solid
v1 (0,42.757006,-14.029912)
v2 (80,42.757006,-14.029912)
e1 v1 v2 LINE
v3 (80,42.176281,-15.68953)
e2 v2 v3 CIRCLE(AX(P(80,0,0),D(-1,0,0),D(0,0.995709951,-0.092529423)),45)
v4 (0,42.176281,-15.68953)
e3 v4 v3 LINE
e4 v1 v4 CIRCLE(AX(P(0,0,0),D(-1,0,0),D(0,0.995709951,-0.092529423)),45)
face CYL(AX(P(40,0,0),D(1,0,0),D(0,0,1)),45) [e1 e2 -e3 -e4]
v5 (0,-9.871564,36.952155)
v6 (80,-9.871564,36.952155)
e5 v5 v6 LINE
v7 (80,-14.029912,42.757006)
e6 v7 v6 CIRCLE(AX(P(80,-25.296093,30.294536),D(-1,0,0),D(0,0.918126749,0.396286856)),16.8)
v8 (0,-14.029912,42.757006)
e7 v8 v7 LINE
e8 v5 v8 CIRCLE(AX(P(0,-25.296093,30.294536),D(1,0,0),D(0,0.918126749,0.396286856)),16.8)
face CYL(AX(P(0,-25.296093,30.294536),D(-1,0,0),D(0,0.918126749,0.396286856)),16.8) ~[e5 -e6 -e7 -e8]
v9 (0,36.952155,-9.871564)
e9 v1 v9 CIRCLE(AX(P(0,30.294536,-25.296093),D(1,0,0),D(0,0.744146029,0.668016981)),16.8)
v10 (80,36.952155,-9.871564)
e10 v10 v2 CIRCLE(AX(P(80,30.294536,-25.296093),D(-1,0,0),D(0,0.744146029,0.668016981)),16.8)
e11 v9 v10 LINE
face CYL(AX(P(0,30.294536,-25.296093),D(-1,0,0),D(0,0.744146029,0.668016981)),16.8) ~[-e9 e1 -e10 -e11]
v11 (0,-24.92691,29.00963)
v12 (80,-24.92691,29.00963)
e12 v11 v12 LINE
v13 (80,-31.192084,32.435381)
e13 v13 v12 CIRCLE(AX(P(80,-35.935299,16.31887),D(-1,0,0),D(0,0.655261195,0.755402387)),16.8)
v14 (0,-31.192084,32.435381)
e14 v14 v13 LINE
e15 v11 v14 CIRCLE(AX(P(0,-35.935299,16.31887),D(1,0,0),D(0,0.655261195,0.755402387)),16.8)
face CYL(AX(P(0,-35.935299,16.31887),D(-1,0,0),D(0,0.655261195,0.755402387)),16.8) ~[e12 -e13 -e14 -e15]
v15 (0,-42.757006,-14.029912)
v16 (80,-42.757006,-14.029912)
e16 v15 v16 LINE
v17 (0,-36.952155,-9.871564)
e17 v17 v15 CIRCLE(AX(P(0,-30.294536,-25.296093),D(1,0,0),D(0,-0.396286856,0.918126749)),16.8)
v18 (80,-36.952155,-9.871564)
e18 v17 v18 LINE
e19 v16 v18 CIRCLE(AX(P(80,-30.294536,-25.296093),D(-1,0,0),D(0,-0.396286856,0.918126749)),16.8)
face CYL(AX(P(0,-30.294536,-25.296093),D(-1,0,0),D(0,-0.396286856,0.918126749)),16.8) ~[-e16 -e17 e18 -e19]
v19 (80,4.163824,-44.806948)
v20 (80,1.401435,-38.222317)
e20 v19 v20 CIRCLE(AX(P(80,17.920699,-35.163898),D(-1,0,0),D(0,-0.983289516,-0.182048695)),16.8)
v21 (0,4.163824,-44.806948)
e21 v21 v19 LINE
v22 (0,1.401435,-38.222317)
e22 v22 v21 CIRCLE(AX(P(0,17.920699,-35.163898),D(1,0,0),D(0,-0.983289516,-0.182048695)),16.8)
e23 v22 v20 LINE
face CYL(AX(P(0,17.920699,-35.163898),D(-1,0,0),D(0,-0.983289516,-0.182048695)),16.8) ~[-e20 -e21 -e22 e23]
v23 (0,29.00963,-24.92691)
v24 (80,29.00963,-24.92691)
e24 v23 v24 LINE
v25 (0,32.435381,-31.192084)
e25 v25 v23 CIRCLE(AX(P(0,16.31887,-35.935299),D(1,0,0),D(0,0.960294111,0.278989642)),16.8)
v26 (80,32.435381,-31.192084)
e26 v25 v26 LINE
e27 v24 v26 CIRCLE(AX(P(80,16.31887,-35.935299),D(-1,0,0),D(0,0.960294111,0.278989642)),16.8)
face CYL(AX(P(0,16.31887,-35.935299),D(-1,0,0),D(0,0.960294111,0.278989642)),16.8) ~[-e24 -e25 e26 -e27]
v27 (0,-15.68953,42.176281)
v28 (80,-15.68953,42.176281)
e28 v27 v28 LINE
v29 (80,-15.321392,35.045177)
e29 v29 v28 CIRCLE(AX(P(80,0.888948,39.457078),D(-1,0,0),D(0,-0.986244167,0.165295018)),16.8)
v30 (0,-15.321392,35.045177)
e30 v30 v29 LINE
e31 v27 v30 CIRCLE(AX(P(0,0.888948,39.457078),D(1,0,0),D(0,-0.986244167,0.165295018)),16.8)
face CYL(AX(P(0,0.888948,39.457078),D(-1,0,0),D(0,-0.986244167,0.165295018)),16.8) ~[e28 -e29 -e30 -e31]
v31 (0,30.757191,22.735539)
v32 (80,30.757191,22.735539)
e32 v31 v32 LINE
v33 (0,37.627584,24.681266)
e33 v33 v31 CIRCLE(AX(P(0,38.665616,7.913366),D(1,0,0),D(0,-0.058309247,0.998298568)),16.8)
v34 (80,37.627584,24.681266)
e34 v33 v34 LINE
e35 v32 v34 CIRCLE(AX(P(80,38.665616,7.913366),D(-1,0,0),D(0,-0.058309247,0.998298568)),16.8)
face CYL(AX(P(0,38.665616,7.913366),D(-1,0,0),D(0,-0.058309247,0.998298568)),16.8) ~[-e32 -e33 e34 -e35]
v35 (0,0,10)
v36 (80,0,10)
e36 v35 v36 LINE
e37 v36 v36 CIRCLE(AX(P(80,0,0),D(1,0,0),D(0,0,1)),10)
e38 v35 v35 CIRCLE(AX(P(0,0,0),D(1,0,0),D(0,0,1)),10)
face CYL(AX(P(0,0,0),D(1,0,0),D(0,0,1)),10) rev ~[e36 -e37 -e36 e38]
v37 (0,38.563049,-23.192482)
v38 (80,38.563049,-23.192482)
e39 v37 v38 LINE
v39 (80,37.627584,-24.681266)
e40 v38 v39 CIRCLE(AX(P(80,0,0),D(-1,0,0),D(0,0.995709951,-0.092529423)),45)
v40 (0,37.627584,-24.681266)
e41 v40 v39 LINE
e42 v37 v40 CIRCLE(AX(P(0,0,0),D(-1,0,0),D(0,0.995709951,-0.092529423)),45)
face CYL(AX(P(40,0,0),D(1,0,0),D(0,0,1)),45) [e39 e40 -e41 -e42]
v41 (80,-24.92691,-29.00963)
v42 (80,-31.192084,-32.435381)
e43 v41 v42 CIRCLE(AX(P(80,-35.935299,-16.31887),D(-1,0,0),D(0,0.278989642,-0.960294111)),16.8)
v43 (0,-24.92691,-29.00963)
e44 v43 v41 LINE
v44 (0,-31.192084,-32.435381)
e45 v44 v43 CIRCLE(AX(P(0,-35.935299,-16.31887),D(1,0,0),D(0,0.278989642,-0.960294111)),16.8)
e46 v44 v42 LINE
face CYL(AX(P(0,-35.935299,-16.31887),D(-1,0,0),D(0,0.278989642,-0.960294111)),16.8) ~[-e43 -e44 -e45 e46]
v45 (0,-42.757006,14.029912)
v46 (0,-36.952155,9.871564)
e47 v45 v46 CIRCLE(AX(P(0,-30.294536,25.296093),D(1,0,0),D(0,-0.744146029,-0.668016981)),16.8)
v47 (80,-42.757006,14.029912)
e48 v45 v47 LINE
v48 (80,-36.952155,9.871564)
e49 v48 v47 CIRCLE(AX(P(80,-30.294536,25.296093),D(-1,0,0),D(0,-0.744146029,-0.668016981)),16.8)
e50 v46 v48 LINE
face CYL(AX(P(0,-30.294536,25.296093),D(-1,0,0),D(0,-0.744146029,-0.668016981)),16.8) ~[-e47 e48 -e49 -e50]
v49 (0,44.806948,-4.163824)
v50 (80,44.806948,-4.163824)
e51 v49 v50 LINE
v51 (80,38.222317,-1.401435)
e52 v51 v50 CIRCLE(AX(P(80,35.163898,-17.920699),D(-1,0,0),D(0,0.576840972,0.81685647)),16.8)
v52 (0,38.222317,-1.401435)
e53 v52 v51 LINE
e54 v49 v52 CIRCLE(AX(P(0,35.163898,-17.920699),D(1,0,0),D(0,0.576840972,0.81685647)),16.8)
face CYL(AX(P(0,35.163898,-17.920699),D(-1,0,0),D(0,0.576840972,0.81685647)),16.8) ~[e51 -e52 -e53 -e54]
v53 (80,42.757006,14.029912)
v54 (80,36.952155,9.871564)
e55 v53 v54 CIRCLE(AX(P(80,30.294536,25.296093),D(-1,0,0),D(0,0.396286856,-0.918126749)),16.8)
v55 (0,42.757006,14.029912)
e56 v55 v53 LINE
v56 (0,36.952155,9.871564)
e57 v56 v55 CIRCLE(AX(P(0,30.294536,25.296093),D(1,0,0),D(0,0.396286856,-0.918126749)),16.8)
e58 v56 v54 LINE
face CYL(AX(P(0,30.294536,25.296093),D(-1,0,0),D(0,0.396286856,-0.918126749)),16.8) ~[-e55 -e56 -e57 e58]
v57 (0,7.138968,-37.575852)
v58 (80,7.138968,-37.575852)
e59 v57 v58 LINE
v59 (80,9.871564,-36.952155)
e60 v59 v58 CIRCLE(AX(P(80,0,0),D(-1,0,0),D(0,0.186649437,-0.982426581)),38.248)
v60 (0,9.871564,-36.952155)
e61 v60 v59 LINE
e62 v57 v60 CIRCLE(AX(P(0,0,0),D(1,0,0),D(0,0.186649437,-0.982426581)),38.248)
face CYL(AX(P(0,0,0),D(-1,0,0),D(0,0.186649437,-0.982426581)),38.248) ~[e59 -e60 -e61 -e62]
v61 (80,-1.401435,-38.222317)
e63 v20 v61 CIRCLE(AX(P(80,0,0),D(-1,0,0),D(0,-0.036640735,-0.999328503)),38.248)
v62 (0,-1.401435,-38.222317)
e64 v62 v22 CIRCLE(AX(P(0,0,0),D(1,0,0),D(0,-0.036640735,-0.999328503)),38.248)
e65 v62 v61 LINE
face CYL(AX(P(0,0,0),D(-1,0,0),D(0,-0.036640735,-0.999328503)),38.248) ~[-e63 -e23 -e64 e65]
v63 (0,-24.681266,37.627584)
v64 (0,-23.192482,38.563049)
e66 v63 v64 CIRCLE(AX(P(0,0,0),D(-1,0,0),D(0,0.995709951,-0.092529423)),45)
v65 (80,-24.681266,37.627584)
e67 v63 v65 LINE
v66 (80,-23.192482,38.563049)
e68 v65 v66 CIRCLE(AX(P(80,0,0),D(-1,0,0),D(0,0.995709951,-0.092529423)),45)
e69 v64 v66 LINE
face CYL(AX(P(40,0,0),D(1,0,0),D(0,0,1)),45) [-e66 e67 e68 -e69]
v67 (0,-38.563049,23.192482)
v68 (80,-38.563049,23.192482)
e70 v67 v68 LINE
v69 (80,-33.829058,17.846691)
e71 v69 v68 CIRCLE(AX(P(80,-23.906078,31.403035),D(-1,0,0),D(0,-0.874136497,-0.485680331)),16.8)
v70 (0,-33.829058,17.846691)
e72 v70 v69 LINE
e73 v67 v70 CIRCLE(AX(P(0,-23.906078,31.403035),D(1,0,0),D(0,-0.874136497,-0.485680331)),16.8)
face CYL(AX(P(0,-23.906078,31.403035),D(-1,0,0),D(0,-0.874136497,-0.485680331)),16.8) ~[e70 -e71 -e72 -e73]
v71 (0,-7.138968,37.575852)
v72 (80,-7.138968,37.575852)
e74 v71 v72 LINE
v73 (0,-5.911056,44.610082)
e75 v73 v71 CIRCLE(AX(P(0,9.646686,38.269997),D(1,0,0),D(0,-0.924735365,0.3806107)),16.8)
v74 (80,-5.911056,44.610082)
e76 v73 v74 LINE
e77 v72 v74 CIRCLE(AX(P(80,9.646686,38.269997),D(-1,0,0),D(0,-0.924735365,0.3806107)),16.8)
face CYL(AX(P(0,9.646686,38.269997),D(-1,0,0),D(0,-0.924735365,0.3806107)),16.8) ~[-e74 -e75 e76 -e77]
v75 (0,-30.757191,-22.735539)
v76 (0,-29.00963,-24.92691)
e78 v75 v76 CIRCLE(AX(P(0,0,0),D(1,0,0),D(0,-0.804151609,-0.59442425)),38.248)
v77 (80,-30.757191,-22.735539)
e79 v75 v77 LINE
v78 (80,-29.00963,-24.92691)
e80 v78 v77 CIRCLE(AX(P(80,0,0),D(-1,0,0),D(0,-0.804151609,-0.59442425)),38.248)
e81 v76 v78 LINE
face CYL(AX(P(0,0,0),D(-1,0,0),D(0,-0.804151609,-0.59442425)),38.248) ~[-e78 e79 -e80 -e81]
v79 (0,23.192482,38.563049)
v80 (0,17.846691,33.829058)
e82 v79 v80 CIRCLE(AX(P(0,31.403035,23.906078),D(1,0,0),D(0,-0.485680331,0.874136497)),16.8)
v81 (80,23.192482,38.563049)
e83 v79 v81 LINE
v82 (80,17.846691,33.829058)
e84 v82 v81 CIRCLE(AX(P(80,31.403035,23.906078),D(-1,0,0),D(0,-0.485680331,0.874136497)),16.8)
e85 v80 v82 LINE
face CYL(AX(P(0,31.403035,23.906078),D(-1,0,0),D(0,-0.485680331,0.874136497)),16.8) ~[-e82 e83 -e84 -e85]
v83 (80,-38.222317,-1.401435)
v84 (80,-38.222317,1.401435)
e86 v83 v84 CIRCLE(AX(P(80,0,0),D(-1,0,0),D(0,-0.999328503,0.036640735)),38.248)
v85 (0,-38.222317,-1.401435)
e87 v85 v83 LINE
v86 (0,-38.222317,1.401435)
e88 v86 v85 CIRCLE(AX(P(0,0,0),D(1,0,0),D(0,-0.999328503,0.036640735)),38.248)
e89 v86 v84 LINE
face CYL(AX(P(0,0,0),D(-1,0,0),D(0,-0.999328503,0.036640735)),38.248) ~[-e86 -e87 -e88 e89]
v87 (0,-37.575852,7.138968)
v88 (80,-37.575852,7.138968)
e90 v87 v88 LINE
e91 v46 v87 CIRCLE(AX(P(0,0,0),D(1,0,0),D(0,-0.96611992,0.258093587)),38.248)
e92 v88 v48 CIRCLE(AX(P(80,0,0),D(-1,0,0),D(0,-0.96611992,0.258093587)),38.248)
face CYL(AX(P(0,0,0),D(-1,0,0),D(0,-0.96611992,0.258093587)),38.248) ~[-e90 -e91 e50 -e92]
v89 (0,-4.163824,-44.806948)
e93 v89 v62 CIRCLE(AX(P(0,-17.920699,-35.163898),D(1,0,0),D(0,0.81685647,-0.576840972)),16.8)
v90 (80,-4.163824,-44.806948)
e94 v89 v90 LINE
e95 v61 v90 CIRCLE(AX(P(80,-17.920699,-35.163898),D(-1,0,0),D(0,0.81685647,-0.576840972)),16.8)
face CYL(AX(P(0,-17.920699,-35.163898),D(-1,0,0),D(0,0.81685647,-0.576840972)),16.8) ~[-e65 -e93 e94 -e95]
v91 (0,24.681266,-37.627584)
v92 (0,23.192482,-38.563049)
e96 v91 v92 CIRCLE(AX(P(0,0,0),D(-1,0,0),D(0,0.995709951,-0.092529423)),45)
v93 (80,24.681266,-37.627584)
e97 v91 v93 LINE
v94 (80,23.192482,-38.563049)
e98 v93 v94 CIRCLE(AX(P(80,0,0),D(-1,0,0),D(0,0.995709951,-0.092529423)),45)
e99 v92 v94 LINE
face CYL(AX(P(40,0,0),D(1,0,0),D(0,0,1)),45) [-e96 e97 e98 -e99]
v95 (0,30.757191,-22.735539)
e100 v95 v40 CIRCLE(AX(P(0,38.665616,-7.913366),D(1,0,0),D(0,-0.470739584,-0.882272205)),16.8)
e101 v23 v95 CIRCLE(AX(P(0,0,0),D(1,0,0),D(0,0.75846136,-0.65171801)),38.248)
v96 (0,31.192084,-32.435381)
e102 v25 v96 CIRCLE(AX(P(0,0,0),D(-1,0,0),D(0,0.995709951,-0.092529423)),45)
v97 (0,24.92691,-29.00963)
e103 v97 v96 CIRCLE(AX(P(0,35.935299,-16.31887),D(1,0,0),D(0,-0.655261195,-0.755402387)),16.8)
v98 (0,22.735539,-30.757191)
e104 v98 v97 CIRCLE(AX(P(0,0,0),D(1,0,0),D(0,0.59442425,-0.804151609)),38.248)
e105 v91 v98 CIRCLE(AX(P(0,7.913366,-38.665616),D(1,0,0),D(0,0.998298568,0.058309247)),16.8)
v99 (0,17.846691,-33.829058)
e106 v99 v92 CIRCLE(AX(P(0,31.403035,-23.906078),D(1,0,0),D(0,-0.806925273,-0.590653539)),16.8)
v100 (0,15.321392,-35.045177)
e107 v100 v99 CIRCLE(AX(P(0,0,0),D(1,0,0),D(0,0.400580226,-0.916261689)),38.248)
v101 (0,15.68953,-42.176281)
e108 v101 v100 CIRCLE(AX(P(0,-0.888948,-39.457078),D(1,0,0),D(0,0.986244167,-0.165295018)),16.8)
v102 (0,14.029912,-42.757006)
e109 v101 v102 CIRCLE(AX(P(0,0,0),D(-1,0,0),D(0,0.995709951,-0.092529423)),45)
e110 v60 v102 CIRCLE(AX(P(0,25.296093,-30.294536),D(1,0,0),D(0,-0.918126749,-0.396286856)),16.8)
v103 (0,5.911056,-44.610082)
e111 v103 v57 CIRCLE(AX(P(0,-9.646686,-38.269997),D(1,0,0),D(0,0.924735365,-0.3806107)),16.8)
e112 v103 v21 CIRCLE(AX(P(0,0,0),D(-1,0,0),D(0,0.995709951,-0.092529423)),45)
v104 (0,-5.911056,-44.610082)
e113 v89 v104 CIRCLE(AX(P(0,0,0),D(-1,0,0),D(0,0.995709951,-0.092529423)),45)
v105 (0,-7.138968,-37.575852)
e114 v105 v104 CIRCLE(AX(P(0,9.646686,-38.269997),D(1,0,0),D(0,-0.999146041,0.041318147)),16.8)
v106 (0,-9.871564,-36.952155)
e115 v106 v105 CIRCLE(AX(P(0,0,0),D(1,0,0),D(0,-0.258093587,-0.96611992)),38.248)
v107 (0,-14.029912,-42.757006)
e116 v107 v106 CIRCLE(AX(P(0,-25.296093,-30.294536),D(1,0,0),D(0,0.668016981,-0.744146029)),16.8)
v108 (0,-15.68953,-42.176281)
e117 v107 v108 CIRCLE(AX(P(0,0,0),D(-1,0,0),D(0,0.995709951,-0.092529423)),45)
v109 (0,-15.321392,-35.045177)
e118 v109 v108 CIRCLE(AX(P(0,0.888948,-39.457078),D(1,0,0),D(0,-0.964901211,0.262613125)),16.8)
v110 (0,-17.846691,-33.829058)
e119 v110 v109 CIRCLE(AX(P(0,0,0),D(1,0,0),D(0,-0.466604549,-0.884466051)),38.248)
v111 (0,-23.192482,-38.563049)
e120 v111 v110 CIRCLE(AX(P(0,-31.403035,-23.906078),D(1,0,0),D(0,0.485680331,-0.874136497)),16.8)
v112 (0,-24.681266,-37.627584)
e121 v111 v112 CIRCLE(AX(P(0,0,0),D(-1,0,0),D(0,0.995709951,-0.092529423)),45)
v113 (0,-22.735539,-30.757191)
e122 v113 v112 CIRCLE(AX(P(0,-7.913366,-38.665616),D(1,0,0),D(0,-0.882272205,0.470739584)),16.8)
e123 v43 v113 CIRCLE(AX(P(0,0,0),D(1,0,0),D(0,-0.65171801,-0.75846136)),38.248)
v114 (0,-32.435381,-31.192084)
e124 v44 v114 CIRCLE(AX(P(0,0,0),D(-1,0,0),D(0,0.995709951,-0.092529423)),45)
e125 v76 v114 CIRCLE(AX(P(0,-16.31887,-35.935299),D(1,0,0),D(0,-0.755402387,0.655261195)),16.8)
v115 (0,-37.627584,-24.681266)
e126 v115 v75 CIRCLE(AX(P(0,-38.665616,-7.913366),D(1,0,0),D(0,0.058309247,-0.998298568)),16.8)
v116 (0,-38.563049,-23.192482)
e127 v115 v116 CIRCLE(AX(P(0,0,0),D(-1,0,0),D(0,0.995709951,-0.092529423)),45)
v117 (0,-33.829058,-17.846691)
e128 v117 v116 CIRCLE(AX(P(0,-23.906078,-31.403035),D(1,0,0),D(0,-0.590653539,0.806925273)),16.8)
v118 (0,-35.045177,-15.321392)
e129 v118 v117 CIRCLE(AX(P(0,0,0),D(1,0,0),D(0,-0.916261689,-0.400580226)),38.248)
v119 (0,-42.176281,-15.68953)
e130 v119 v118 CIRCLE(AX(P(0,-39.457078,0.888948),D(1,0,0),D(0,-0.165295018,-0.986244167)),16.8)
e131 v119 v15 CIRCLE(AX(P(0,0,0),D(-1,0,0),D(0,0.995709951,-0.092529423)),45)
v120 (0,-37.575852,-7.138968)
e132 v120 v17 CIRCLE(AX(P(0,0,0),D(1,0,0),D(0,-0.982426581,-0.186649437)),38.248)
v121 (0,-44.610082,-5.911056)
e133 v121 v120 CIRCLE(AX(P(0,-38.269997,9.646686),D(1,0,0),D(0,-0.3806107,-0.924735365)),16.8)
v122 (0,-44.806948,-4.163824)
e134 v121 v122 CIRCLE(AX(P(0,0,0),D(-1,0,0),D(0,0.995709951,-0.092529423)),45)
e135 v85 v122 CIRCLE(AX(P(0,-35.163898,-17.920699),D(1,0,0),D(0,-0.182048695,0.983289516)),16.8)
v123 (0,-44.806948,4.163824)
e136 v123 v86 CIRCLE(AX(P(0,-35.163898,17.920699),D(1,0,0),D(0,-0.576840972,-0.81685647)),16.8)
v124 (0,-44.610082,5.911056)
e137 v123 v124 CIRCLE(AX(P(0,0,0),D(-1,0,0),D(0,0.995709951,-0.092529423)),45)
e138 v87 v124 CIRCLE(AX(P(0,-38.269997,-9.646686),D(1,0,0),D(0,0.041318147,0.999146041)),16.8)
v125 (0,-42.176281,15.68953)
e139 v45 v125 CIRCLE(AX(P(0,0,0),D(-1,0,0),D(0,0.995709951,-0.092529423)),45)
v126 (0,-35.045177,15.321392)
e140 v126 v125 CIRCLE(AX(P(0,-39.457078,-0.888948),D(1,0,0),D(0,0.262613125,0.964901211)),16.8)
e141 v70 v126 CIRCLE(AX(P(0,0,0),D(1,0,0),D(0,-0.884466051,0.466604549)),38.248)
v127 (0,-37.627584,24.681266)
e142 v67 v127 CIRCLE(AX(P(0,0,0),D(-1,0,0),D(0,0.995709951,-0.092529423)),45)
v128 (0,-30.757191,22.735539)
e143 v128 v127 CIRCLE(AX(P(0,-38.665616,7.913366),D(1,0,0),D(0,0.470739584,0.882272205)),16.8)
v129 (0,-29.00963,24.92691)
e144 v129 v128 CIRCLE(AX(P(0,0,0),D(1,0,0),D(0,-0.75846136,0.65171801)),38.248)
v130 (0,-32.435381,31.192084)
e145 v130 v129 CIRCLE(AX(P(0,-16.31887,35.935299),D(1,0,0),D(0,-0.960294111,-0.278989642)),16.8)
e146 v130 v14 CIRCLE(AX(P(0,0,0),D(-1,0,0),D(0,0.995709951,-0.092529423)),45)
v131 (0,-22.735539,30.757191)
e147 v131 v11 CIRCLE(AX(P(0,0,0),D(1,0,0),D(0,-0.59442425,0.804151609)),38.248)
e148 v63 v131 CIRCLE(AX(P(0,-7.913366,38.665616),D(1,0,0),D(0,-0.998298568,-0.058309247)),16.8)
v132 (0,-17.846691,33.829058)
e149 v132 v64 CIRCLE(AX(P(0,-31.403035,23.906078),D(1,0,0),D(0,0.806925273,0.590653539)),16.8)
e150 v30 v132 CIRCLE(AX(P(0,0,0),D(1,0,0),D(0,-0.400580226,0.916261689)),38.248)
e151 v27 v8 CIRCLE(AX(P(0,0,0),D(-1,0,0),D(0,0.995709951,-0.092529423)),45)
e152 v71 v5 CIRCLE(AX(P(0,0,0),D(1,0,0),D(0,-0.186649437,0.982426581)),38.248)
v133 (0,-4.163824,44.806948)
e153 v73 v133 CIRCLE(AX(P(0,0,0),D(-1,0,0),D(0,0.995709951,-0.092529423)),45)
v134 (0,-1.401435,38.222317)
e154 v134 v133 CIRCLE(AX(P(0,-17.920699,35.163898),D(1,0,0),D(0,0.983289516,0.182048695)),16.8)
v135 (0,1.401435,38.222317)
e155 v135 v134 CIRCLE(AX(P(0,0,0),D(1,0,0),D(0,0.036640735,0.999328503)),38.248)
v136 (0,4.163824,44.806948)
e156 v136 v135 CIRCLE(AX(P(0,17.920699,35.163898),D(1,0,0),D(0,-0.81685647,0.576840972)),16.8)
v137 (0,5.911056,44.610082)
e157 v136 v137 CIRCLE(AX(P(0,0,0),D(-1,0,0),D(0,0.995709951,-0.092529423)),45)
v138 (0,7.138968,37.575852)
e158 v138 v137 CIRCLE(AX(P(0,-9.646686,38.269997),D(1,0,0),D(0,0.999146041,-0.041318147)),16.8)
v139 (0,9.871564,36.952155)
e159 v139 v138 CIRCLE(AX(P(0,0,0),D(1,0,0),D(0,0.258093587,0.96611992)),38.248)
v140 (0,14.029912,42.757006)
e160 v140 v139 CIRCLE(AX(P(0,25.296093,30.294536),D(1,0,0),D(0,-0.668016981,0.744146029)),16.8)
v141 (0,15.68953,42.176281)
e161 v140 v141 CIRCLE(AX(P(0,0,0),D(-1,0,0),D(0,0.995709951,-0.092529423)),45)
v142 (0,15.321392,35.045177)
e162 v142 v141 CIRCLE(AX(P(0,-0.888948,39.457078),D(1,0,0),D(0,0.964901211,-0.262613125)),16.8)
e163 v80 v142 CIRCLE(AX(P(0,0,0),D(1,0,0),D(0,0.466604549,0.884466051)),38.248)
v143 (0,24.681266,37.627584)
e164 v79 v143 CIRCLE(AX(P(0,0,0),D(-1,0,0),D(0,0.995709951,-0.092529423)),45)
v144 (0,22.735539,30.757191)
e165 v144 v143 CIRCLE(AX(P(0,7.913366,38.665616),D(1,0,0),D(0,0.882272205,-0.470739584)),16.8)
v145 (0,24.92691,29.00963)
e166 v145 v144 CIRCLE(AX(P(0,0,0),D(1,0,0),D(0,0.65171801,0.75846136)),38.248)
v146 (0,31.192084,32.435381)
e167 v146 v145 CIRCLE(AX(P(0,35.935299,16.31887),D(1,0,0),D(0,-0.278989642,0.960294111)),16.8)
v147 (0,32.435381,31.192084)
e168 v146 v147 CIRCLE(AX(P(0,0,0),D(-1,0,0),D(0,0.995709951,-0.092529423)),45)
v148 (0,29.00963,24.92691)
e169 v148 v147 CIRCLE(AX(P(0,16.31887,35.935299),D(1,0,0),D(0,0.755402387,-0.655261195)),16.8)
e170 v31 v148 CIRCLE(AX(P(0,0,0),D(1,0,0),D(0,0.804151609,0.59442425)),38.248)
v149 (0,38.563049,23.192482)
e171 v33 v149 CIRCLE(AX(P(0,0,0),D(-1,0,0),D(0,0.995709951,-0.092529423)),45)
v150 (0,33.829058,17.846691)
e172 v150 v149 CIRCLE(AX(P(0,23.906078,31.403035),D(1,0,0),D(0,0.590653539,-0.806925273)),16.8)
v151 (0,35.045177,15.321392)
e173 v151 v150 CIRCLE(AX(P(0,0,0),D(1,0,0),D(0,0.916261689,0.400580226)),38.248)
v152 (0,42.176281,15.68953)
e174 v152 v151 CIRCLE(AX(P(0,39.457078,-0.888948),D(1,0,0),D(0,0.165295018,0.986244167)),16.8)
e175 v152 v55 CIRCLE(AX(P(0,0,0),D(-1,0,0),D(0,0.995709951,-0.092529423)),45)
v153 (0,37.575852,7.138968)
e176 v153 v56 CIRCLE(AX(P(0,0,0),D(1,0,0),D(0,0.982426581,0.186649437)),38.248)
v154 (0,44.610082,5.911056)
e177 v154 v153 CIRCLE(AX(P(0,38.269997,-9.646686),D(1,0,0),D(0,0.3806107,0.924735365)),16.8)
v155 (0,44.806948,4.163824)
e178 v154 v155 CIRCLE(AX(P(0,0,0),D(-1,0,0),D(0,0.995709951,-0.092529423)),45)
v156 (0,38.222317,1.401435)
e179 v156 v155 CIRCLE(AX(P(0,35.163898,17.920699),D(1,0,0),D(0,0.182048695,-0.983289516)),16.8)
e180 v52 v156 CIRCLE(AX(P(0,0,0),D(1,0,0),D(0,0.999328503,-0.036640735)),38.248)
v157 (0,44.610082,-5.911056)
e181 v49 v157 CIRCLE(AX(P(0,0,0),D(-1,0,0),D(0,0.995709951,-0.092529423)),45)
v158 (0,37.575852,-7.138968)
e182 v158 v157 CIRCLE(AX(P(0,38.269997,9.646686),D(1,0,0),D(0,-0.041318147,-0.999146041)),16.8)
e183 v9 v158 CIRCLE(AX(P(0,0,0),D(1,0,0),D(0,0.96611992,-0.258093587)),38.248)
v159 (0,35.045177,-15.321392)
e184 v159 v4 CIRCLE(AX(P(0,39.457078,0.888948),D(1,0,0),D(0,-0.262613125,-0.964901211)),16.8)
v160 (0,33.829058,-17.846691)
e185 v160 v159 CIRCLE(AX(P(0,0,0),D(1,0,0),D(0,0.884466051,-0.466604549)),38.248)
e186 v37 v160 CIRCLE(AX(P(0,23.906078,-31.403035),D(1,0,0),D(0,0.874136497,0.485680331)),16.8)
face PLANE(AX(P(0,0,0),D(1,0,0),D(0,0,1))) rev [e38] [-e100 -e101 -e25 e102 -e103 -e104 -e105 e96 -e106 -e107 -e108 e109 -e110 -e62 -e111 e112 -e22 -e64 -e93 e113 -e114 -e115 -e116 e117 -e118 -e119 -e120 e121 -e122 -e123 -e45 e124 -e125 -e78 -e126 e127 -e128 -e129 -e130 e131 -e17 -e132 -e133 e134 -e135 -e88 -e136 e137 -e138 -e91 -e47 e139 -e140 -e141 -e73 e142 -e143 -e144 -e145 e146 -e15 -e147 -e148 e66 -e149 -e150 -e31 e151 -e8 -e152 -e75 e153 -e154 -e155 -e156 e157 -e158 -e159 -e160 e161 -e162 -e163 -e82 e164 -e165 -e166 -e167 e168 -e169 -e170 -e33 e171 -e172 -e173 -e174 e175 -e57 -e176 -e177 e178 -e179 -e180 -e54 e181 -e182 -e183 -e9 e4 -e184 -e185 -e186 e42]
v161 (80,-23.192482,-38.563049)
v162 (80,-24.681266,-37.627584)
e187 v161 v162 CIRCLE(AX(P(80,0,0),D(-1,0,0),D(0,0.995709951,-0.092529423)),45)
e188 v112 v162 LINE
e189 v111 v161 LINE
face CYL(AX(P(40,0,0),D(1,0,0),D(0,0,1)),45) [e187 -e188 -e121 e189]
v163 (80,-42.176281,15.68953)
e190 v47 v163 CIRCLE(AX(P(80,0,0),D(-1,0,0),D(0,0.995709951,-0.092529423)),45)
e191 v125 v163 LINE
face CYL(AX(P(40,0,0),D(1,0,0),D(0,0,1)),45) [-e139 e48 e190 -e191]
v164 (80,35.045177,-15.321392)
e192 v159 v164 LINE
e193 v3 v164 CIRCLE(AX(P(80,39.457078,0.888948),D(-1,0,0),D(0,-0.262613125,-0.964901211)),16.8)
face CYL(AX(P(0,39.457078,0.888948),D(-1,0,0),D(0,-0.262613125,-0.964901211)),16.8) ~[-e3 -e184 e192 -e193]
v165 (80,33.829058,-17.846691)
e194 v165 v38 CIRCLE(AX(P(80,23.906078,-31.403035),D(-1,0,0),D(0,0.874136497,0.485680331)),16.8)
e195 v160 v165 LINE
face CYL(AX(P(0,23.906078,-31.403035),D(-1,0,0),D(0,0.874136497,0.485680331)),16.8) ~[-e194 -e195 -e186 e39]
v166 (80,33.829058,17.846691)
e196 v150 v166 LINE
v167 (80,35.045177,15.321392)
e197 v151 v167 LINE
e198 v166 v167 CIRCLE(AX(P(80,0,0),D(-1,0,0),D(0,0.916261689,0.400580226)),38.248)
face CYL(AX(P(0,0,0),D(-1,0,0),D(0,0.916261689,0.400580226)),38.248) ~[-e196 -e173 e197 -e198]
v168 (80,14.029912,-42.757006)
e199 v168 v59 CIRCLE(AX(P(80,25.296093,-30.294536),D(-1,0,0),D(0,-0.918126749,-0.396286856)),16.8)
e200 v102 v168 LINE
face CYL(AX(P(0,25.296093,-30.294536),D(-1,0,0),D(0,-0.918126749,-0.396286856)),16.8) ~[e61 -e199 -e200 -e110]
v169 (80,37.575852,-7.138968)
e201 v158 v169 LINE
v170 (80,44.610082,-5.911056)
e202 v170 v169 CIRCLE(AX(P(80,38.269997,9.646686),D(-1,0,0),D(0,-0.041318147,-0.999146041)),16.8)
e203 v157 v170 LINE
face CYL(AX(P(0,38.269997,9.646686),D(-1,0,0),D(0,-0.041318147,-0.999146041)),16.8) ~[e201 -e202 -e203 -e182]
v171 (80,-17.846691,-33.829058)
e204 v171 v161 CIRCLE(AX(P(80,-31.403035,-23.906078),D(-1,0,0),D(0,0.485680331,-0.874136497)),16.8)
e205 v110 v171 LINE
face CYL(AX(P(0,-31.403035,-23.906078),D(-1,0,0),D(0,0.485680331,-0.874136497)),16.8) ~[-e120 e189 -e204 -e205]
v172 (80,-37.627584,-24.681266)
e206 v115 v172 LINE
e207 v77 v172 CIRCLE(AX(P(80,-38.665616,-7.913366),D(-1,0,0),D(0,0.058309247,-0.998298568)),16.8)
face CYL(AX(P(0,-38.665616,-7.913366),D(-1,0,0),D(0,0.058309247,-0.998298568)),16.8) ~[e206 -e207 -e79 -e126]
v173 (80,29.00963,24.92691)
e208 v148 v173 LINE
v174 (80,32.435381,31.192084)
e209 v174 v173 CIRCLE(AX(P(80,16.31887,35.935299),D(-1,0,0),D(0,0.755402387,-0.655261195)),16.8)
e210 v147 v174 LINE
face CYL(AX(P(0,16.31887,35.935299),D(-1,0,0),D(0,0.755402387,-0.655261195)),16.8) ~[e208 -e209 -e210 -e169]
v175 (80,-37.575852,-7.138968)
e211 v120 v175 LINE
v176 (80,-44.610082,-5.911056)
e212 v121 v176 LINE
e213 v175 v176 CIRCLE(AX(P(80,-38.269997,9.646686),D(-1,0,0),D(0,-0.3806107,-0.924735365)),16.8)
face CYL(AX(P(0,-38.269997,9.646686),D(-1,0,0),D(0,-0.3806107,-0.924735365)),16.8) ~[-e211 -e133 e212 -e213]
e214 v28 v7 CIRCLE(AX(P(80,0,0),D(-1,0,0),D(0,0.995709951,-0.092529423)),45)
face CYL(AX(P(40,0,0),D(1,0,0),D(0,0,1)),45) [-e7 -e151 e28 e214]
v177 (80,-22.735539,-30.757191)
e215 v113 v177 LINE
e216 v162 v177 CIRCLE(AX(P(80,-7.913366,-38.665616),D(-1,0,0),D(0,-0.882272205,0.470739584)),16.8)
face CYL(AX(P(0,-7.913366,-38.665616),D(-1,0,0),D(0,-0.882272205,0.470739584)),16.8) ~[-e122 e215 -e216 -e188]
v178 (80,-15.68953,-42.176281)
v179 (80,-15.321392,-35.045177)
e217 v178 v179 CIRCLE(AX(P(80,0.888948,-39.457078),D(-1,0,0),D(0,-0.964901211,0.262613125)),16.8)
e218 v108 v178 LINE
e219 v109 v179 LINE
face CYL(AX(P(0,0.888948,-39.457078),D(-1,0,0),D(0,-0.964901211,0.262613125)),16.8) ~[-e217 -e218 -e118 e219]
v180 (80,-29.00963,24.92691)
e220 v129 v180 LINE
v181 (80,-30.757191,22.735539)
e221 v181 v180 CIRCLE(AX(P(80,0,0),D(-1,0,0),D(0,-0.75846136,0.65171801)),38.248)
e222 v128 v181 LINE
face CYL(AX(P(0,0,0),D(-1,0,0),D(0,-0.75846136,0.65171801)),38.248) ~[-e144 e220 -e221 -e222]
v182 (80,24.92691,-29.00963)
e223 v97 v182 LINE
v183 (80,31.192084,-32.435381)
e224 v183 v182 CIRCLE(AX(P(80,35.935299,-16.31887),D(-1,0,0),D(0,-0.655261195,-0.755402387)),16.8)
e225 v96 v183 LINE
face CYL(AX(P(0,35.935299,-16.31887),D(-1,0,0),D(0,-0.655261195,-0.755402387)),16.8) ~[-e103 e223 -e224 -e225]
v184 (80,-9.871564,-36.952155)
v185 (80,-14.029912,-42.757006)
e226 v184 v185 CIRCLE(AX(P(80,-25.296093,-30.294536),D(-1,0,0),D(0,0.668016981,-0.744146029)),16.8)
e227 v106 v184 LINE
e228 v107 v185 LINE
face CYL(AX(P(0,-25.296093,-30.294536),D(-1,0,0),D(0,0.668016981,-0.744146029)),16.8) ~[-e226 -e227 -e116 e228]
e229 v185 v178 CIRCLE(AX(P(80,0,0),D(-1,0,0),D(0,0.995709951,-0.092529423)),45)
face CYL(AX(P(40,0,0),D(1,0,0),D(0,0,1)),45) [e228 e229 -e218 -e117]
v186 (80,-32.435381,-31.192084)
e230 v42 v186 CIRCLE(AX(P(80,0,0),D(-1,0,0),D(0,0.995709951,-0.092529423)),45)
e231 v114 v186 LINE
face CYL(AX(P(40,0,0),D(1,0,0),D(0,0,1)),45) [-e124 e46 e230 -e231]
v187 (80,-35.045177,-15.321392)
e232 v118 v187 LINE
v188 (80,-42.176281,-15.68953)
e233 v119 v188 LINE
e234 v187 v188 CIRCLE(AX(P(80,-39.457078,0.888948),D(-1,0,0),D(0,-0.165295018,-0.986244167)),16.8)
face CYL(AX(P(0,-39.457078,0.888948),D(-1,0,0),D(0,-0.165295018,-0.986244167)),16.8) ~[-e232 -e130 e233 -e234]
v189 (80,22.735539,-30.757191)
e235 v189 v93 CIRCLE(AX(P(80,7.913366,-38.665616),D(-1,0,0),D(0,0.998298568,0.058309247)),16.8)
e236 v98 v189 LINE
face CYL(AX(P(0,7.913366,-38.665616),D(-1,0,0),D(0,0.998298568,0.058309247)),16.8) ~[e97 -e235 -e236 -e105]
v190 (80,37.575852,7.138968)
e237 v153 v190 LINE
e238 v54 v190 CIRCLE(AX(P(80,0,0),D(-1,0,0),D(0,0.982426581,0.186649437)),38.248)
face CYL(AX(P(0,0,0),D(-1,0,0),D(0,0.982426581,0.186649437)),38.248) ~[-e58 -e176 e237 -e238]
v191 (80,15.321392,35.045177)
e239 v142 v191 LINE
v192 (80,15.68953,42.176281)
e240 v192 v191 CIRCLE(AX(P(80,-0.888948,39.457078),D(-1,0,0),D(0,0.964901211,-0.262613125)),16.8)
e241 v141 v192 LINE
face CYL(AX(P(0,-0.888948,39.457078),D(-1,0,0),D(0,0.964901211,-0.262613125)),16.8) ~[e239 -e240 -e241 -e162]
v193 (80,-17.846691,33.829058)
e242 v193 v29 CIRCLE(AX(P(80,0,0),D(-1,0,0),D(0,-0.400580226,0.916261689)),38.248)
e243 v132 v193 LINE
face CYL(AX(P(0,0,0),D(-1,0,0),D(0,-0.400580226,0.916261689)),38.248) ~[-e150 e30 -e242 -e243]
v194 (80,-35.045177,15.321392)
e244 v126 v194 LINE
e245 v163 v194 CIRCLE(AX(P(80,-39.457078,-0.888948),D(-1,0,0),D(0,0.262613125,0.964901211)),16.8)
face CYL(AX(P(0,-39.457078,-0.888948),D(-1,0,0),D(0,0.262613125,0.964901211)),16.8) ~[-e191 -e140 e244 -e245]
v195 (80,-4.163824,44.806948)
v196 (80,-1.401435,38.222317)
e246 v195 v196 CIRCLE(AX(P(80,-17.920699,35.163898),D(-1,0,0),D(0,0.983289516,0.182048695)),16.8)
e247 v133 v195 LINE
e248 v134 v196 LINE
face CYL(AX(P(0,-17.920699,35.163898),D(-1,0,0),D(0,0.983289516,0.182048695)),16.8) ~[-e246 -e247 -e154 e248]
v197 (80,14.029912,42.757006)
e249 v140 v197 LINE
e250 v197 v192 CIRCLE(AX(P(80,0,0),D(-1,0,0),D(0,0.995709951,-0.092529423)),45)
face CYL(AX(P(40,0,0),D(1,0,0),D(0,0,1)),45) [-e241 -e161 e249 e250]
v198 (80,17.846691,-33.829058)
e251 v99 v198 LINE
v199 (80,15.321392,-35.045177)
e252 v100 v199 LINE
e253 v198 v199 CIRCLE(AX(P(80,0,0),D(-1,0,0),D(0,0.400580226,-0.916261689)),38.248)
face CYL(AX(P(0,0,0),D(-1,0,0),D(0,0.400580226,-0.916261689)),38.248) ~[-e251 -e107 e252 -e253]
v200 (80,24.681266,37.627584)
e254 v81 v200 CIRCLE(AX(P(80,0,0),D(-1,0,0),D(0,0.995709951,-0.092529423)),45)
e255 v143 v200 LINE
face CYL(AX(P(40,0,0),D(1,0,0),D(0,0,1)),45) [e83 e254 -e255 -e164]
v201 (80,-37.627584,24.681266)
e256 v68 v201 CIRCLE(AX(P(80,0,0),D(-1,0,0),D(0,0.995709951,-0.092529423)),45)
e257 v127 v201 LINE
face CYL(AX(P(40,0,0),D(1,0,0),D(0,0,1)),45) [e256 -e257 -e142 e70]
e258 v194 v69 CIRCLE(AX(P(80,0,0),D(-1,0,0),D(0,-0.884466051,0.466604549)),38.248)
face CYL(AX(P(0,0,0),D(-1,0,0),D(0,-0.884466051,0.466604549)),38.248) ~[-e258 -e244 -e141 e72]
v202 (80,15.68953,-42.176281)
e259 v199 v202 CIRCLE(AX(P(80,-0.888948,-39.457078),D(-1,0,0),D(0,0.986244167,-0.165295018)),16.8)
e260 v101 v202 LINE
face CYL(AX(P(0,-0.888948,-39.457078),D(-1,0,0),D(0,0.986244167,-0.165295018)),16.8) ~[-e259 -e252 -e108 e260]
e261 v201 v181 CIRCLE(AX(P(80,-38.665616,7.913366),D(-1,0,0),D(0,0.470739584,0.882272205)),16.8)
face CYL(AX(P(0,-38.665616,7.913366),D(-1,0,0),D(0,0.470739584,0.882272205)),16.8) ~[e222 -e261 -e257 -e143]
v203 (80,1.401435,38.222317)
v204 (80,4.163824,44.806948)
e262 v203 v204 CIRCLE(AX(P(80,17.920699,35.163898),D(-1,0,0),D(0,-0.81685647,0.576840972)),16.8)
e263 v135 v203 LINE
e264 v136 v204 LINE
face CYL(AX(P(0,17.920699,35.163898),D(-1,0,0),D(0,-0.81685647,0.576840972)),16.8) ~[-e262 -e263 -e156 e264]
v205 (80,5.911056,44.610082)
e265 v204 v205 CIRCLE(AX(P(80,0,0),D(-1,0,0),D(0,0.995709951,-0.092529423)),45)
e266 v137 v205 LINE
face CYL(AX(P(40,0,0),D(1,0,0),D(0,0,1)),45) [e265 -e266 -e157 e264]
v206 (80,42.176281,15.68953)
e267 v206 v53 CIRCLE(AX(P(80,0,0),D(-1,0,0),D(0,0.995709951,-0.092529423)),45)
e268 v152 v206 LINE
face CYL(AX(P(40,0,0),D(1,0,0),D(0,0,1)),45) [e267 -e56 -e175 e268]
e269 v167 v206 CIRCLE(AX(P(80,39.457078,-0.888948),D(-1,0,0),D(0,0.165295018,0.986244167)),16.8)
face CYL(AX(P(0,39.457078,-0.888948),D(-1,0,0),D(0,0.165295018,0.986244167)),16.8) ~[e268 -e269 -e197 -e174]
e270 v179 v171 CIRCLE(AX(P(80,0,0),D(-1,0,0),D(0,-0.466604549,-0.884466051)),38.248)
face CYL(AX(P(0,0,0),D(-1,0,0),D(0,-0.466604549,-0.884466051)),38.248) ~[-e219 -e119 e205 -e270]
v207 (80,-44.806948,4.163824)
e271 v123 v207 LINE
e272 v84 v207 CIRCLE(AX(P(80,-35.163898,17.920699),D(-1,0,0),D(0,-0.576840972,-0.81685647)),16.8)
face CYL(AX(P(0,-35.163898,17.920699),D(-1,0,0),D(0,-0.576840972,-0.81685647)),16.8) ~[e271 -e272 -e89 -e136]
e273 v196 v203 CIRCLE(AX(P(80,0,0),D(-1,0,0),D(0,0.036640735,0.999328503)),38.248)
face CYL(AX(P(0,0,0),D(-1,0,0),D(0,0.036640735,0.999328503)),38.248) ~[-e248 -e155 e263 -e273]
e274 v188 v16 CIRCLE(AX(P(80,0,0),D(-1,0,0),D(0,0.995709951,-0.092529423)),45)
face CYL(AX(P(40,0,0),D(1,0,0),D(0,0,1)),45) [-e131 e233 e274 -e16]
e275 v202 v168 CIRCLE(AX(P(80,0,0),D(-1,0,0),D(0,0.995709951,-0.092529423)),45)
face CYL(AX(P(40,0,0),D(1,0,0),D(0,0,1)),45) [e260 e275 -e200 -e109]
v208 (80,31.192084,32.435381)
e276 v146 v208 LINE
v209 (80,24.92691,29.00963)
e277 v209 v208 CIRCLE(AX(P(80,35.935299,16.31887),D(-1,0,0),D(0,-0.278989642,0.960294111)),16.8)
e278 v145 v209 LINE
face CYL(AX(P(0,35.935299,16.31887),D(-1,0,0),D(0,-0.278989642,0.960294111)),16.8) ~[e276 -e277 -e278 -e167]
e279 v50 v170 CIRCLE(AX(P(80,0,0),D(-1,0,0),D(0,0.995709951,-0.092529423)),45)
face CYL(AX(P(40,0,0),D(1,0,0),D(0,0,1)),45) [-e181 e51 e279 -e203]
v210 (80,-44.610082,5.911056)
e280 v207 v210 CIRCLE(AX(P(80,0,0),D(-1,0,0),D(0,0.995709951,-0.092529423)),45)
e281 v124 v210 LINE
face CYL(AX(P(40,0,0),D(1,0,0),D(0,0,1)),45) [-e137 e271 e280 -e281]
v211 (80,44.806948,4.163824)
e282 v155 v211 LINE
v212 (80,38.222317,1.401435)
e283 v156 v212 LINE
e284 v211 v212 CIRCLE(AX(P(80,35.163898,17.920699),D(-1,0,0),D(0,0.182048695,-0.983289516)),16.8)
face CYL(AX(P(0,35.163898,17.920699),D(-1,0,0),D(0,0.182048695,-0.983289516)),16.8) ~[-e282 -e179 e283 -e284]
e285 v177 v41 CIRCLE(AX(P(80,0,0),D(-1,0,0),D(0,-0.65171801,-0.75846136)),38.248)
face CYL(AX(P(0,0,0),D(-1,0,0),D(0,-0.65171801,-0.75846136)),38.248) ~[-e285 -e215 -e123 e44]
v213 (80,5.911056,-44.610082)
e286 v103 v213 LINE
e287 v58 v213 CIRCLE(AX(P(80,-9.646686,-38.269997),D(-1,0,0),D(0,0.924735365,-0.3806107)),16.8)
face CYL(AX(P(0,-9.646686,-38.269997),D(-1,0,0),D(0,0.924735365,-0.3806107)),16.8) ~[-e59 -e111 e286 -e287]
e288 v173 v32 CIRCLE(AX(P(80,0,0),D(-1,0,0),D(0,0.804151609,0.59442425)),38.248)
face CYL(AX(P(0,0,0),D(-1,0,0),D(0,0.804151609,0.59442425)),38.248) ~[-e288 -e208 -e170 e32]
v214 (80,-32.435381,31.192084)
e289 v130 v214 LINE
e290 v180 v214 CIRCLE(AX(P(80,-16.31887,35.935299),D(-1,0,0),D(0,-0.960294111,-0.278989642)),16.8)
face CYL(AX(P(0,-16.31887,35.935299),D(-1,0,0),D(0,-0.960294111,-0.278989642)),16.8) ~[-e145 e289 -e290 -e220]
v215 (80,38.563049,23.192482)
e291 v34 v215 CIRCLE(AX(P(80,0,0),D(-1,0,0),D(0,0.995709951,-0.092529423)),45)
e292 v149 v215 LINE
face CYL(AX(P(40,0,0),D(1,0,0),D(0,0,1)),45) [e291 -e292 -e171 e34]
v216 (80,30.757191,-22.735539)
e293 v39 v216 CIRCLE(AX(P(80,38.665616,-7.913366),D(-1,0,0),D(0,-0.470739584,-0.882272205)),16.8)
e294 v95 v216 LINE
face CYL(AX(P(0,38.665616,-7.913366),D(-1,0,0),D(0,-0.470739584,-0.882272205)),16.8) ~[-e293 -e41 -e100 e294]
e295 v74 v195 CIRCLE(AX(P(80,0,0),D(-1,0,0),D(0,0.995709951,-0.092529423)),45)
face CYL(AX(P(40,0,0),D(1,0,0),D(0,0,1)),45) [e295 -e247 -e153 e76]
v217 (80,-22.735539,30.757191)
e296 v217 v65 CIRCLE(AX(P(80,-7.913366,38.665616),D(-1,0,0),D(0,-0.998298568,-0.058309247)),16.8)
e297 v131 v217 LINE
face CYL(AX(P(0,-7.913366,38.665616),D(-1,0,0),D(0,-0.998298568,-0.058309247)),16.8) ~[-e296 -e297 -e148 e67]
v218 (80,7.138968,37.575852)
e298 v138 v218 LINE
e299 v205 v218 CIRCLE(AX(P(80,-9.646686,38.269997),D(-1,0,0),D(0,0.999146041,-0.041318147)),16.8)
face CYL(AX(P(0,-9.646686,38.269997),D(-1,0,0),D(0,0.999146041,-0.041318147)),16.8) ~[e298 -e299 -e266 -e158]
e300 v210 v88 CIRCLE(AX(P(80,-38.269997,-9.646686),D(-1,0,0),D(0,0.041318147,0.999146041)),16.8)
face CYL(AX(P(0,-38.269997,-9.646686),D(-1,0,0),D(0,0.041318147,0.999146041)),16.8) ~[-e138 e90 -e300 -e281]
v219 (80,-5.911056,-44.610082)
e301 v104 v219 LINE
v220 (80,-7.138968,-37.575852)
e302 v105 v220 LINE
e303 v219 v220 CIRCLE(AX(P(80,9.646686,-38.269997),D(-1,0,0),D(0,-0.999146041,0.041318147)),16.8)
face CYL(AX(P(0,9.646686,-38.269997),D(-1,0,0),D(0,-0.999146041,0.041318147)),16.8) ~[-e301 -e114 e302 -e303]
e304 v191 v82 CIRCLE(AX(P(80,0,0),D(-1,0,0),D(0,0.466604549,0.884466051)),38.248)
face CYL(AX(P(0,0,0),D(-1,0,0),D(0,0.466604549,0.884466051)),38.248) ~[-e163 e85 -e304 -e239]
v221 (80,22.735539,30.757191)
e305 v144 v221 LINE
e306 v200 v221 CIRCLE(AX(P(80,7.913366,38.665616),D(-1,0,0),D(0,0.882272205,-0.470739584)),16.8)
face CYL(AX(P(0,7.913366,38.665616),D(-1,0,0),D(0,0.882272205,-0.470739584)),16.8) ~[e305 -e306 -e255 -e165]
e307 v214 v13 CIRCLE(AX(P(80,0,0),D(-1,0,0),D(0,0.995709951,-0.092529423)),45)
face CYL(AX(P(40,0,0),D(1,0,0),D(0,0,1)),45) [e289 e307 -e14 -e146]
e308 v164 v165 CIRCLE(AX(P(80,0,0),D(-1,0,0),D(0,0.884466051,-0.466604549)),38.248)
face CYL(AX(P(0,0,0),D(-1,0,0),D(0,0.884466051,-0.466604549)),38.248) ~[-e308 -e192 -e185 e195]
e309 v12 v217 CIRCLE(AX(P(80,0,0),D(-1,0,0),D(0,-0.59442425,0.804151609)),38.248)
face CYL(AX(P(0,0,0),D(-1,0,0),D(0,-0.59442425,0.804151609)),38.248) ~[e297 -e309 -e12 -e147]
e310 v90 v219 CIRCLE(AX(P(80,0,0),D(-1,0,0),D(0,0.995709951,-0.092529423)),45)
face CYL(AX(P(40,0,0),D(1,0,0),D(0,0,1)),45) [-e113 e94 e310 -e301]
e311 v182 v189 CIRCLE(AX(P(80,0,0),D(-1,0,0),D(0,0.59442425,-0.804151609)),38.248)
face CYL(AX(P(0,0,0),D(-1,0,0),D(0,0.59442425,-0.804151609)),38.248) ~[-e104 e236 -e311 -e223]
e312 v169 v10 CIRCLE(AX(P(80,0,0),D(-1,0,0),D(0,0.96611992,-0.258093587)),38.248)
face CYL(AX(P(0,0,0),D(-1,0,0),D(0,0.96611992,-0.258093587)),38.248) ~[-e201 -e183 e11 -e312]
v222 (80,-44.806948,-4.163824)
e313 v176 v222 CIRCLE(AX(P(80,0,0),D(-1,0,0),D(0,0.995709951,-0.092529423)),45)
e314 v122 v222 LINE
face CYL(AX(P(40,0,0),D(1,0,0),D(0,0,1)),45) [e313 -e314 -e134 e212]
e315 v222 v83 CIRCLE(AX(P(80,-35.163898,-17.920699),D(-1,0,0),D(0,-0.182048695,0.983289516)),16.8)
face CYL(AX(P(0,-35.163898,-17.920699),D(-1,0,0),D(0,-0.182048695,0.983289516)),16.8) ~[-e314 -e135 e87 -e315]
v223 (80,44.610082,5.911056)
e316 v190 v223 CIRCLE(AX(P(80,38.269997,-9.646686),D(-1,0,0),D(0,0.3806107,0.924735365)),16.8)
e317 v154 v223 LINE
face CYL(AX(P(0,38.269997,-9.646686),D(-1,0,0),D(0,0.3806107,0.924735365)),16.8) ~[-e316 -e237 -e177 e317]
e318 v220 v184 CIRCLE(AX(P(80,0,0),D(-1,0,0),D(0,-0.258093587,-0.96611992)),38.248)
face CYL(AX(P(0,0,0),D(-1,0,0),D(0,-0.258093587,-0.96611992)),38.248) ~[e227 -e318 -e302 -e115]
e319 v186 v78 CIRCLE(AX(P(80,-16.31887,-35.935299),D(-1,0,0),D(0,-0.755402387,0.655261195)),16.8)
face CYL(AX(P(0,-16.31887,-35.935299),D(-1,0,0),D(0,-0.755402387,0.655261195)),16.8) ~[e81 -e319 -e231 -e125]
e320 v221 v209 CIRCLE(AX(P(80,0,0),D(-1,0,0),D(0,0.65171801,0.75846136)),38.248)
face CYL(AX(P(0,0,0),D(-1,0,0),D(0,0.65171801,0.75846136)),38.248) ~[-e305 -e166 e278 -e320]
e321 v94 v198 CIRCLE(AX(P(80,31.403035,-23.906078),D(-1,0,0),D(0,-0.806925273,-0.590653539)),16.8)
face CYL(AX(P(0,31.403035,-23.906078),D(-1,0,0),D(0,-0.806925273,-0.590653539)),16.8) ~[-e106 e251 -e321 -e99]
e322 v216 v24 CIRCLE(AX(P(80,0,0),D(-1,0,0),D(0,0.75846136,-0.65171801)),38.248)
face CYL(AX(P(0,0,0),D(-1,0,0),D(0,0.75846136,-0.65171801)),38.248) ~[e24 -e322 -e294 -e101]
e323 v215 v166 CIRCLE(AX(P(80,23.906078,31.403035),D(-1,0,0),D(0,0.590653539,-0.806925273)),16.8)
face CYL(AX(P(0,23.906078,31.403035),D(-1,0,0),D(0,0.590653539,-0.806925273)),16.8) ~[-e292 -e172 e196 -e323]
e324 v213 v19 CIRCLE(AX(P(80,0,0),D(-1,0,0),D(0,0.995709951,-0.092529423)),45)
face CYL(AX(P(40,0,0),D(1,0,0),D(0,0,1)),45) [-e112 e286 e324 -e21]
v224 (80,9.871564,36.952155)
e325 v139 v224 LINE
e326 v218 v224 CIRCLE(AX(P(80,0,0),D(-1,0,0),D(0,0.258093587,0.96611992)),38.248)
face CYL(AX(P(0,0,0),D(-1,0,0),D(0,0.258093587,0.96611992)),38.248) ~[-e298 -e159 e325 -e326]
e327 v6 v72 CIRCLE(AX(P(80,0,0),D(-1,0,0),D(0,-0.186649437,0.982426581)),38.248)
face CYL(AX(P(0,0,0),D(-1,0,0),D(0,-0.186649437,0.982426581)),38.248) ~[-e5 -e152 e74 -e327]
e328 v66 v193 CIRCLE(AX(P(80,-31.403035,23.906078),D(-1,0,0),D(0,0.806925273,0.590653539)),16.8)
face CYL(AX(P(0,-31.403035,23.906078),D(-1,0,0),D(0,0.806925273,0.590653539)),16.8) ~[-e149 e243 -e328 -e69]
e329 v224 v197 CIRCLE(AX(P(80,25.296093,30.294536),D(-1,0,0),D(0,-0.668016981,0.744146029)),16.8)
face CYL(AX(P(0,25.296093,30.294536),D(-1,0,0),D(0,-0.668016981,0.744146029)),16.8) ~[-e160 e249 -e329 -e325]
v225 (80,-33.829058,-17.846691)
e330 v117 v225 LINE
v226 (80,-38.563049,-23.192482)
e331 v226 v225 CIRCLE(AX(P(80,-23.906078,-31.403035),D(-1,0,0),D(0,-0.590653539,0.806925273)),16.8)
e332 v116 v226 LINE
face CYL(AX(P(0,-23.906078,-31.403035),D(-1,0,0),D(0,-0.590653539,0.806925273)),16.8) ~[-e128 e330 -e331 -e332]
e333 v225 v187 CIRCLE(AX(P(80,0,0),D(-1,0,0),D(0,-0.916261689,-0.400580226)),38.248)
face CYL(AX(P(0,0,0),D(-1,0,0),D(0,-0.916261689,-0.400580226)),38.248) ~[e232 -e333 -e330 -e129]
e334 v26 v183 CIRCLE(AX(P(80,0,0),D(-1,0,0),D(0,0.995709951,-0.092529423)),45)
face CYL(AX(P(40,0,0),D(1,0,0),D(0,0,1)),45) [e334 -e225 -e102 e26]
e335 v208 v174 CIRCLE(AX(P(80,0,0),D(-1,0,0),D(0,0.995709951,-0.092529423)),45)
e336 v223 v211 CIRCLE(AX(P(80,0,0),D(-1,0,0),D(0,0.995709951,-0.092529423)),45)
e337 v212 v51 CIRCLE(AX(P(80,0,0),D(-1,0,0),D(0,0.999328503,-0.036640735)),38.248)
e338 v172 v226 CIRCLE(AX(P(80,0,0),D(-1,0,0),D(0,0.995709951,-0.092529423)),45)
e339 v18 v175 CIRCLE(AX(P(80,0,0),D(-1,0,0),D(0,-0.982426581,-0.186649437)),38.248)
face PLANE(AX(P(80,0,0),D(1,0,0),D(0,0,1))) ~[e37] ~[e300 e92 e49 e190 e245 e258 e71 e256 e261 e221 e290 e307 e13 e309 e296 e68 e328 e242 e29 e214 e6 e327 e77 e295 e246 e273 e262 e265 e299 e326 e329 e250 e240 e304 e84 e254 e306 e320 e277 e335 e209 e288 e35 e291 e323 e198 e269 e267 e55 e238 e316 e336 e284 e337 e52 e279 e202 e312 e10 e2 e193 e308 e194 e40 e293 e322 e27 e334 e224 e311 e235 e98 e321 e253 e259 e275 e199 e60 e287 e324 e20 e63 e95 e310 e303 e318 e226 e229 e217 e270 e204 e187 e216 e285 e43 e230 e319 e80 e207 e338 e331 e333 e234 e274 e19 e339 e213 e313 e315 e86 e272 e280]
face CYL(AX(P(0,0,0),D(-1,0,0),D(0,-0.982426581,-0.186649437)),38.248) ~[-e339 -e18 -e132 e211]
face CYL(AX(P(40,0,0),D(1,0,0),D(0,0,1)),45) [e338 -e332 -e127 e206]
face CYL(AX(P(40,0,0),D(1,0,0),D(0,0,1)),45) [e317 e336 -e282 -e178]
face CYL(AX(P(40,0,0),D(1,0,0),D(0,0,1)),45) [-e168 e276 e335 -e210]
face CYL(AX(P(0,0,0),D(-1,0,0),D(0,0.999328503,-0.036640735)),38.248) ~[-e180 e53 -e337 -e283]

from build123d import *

# Parameters (mm, degrees)
BASPROSKE_W     = 40
BASPROSKE_H     = 22.5
TOOTHCUT_DEPTH  = 52.112620751
TEETHCUTS_COUNT = 28
TEETHCUTS_ANGLE = 347.142857143
BORSKE_R        = 5
BORE_DEPTH      = 50.0000508
SCALE1_SCALE    = 2


with BuildPart() as part:
    # BasProSke → Base-Revolve (revolve)
    with BuildSketch(Plane(origin=(0, 0, 0), x_dir=(1, 0, 0), z_dir=(0, 1, 0)), mode=Mode.PRIVATE) as base_revolve_sk:
        with Locations((20, 11.25)):
            Rectangle(BASPROSKE_W, BASPROSKE_H)
    revolve(base_revolve_sk.sketch.rotate(Axis((-10, 0, 0), (1, 0, 0)), 180), axis=Axis((-10, 0, 0), (1, 0, 0)))

    # TooCutSke → ToothCut (cut, through all)
    with BuildSketch(Plane(origin=(0, 0, 0), x_dir=(0, 0, -1), z_dir=(1, 0, 0))):
        with BuildLine():
            ThreePointArc((0.70071741, 19.111158288), (0, 19.124), (-0.70071741, 19.111158288))
            ThreePointArc((-0.70071741, 19.111158288), (-1.220048441, 20.845037035), (-2.098754998, 22.427413418))
            ThreePointArc((-2.098754998, 22.427413418), (0, 22.5254), (2.098754998, 22.427413418))
            ThreePointArc((2.098754998, 22.427413418), (1.220048441, 20.845037035), (0.70071741, 19.111158288))
        make_face()
    toothcut = extrude(amount=TOOTHCUT_DEPTH, mode=Mode.SUBTRACT)

    # TeethCuts: ToothCut ×28 about axis
    teethcuts_axis = Axis((-10, 0, 0), (1, 0, 0))
    for i in range(1, TEETHCUTS_COUNT):
        add(toothcut.rotate(teethcuts_axis, i * TEETHCUTS_ANGLE / (TEETHCUTS_COUNT - 1)), mode=Mode.SUBTRACT)

    # BorSke → Bore (cut, symmetric)
    with BuildSketch(Plane(origin=(0, 0, 0), x_dir=(0, 0, -1), z_dir=(1, 0, 0))):
        with Locations(Location((0, 0, 0), (0, 0, 180))):
            Circle(BORSKE_R)
    extrude(amount=BORE_DEPTH, both=True, mode=Mode.SUBTRACT)


with BuildPart() as part_1:
    # Scale1: scaled about (0, 0, 0)
    add(part.part.scale(SCALE1_SCALE))


solid = part_1.part
